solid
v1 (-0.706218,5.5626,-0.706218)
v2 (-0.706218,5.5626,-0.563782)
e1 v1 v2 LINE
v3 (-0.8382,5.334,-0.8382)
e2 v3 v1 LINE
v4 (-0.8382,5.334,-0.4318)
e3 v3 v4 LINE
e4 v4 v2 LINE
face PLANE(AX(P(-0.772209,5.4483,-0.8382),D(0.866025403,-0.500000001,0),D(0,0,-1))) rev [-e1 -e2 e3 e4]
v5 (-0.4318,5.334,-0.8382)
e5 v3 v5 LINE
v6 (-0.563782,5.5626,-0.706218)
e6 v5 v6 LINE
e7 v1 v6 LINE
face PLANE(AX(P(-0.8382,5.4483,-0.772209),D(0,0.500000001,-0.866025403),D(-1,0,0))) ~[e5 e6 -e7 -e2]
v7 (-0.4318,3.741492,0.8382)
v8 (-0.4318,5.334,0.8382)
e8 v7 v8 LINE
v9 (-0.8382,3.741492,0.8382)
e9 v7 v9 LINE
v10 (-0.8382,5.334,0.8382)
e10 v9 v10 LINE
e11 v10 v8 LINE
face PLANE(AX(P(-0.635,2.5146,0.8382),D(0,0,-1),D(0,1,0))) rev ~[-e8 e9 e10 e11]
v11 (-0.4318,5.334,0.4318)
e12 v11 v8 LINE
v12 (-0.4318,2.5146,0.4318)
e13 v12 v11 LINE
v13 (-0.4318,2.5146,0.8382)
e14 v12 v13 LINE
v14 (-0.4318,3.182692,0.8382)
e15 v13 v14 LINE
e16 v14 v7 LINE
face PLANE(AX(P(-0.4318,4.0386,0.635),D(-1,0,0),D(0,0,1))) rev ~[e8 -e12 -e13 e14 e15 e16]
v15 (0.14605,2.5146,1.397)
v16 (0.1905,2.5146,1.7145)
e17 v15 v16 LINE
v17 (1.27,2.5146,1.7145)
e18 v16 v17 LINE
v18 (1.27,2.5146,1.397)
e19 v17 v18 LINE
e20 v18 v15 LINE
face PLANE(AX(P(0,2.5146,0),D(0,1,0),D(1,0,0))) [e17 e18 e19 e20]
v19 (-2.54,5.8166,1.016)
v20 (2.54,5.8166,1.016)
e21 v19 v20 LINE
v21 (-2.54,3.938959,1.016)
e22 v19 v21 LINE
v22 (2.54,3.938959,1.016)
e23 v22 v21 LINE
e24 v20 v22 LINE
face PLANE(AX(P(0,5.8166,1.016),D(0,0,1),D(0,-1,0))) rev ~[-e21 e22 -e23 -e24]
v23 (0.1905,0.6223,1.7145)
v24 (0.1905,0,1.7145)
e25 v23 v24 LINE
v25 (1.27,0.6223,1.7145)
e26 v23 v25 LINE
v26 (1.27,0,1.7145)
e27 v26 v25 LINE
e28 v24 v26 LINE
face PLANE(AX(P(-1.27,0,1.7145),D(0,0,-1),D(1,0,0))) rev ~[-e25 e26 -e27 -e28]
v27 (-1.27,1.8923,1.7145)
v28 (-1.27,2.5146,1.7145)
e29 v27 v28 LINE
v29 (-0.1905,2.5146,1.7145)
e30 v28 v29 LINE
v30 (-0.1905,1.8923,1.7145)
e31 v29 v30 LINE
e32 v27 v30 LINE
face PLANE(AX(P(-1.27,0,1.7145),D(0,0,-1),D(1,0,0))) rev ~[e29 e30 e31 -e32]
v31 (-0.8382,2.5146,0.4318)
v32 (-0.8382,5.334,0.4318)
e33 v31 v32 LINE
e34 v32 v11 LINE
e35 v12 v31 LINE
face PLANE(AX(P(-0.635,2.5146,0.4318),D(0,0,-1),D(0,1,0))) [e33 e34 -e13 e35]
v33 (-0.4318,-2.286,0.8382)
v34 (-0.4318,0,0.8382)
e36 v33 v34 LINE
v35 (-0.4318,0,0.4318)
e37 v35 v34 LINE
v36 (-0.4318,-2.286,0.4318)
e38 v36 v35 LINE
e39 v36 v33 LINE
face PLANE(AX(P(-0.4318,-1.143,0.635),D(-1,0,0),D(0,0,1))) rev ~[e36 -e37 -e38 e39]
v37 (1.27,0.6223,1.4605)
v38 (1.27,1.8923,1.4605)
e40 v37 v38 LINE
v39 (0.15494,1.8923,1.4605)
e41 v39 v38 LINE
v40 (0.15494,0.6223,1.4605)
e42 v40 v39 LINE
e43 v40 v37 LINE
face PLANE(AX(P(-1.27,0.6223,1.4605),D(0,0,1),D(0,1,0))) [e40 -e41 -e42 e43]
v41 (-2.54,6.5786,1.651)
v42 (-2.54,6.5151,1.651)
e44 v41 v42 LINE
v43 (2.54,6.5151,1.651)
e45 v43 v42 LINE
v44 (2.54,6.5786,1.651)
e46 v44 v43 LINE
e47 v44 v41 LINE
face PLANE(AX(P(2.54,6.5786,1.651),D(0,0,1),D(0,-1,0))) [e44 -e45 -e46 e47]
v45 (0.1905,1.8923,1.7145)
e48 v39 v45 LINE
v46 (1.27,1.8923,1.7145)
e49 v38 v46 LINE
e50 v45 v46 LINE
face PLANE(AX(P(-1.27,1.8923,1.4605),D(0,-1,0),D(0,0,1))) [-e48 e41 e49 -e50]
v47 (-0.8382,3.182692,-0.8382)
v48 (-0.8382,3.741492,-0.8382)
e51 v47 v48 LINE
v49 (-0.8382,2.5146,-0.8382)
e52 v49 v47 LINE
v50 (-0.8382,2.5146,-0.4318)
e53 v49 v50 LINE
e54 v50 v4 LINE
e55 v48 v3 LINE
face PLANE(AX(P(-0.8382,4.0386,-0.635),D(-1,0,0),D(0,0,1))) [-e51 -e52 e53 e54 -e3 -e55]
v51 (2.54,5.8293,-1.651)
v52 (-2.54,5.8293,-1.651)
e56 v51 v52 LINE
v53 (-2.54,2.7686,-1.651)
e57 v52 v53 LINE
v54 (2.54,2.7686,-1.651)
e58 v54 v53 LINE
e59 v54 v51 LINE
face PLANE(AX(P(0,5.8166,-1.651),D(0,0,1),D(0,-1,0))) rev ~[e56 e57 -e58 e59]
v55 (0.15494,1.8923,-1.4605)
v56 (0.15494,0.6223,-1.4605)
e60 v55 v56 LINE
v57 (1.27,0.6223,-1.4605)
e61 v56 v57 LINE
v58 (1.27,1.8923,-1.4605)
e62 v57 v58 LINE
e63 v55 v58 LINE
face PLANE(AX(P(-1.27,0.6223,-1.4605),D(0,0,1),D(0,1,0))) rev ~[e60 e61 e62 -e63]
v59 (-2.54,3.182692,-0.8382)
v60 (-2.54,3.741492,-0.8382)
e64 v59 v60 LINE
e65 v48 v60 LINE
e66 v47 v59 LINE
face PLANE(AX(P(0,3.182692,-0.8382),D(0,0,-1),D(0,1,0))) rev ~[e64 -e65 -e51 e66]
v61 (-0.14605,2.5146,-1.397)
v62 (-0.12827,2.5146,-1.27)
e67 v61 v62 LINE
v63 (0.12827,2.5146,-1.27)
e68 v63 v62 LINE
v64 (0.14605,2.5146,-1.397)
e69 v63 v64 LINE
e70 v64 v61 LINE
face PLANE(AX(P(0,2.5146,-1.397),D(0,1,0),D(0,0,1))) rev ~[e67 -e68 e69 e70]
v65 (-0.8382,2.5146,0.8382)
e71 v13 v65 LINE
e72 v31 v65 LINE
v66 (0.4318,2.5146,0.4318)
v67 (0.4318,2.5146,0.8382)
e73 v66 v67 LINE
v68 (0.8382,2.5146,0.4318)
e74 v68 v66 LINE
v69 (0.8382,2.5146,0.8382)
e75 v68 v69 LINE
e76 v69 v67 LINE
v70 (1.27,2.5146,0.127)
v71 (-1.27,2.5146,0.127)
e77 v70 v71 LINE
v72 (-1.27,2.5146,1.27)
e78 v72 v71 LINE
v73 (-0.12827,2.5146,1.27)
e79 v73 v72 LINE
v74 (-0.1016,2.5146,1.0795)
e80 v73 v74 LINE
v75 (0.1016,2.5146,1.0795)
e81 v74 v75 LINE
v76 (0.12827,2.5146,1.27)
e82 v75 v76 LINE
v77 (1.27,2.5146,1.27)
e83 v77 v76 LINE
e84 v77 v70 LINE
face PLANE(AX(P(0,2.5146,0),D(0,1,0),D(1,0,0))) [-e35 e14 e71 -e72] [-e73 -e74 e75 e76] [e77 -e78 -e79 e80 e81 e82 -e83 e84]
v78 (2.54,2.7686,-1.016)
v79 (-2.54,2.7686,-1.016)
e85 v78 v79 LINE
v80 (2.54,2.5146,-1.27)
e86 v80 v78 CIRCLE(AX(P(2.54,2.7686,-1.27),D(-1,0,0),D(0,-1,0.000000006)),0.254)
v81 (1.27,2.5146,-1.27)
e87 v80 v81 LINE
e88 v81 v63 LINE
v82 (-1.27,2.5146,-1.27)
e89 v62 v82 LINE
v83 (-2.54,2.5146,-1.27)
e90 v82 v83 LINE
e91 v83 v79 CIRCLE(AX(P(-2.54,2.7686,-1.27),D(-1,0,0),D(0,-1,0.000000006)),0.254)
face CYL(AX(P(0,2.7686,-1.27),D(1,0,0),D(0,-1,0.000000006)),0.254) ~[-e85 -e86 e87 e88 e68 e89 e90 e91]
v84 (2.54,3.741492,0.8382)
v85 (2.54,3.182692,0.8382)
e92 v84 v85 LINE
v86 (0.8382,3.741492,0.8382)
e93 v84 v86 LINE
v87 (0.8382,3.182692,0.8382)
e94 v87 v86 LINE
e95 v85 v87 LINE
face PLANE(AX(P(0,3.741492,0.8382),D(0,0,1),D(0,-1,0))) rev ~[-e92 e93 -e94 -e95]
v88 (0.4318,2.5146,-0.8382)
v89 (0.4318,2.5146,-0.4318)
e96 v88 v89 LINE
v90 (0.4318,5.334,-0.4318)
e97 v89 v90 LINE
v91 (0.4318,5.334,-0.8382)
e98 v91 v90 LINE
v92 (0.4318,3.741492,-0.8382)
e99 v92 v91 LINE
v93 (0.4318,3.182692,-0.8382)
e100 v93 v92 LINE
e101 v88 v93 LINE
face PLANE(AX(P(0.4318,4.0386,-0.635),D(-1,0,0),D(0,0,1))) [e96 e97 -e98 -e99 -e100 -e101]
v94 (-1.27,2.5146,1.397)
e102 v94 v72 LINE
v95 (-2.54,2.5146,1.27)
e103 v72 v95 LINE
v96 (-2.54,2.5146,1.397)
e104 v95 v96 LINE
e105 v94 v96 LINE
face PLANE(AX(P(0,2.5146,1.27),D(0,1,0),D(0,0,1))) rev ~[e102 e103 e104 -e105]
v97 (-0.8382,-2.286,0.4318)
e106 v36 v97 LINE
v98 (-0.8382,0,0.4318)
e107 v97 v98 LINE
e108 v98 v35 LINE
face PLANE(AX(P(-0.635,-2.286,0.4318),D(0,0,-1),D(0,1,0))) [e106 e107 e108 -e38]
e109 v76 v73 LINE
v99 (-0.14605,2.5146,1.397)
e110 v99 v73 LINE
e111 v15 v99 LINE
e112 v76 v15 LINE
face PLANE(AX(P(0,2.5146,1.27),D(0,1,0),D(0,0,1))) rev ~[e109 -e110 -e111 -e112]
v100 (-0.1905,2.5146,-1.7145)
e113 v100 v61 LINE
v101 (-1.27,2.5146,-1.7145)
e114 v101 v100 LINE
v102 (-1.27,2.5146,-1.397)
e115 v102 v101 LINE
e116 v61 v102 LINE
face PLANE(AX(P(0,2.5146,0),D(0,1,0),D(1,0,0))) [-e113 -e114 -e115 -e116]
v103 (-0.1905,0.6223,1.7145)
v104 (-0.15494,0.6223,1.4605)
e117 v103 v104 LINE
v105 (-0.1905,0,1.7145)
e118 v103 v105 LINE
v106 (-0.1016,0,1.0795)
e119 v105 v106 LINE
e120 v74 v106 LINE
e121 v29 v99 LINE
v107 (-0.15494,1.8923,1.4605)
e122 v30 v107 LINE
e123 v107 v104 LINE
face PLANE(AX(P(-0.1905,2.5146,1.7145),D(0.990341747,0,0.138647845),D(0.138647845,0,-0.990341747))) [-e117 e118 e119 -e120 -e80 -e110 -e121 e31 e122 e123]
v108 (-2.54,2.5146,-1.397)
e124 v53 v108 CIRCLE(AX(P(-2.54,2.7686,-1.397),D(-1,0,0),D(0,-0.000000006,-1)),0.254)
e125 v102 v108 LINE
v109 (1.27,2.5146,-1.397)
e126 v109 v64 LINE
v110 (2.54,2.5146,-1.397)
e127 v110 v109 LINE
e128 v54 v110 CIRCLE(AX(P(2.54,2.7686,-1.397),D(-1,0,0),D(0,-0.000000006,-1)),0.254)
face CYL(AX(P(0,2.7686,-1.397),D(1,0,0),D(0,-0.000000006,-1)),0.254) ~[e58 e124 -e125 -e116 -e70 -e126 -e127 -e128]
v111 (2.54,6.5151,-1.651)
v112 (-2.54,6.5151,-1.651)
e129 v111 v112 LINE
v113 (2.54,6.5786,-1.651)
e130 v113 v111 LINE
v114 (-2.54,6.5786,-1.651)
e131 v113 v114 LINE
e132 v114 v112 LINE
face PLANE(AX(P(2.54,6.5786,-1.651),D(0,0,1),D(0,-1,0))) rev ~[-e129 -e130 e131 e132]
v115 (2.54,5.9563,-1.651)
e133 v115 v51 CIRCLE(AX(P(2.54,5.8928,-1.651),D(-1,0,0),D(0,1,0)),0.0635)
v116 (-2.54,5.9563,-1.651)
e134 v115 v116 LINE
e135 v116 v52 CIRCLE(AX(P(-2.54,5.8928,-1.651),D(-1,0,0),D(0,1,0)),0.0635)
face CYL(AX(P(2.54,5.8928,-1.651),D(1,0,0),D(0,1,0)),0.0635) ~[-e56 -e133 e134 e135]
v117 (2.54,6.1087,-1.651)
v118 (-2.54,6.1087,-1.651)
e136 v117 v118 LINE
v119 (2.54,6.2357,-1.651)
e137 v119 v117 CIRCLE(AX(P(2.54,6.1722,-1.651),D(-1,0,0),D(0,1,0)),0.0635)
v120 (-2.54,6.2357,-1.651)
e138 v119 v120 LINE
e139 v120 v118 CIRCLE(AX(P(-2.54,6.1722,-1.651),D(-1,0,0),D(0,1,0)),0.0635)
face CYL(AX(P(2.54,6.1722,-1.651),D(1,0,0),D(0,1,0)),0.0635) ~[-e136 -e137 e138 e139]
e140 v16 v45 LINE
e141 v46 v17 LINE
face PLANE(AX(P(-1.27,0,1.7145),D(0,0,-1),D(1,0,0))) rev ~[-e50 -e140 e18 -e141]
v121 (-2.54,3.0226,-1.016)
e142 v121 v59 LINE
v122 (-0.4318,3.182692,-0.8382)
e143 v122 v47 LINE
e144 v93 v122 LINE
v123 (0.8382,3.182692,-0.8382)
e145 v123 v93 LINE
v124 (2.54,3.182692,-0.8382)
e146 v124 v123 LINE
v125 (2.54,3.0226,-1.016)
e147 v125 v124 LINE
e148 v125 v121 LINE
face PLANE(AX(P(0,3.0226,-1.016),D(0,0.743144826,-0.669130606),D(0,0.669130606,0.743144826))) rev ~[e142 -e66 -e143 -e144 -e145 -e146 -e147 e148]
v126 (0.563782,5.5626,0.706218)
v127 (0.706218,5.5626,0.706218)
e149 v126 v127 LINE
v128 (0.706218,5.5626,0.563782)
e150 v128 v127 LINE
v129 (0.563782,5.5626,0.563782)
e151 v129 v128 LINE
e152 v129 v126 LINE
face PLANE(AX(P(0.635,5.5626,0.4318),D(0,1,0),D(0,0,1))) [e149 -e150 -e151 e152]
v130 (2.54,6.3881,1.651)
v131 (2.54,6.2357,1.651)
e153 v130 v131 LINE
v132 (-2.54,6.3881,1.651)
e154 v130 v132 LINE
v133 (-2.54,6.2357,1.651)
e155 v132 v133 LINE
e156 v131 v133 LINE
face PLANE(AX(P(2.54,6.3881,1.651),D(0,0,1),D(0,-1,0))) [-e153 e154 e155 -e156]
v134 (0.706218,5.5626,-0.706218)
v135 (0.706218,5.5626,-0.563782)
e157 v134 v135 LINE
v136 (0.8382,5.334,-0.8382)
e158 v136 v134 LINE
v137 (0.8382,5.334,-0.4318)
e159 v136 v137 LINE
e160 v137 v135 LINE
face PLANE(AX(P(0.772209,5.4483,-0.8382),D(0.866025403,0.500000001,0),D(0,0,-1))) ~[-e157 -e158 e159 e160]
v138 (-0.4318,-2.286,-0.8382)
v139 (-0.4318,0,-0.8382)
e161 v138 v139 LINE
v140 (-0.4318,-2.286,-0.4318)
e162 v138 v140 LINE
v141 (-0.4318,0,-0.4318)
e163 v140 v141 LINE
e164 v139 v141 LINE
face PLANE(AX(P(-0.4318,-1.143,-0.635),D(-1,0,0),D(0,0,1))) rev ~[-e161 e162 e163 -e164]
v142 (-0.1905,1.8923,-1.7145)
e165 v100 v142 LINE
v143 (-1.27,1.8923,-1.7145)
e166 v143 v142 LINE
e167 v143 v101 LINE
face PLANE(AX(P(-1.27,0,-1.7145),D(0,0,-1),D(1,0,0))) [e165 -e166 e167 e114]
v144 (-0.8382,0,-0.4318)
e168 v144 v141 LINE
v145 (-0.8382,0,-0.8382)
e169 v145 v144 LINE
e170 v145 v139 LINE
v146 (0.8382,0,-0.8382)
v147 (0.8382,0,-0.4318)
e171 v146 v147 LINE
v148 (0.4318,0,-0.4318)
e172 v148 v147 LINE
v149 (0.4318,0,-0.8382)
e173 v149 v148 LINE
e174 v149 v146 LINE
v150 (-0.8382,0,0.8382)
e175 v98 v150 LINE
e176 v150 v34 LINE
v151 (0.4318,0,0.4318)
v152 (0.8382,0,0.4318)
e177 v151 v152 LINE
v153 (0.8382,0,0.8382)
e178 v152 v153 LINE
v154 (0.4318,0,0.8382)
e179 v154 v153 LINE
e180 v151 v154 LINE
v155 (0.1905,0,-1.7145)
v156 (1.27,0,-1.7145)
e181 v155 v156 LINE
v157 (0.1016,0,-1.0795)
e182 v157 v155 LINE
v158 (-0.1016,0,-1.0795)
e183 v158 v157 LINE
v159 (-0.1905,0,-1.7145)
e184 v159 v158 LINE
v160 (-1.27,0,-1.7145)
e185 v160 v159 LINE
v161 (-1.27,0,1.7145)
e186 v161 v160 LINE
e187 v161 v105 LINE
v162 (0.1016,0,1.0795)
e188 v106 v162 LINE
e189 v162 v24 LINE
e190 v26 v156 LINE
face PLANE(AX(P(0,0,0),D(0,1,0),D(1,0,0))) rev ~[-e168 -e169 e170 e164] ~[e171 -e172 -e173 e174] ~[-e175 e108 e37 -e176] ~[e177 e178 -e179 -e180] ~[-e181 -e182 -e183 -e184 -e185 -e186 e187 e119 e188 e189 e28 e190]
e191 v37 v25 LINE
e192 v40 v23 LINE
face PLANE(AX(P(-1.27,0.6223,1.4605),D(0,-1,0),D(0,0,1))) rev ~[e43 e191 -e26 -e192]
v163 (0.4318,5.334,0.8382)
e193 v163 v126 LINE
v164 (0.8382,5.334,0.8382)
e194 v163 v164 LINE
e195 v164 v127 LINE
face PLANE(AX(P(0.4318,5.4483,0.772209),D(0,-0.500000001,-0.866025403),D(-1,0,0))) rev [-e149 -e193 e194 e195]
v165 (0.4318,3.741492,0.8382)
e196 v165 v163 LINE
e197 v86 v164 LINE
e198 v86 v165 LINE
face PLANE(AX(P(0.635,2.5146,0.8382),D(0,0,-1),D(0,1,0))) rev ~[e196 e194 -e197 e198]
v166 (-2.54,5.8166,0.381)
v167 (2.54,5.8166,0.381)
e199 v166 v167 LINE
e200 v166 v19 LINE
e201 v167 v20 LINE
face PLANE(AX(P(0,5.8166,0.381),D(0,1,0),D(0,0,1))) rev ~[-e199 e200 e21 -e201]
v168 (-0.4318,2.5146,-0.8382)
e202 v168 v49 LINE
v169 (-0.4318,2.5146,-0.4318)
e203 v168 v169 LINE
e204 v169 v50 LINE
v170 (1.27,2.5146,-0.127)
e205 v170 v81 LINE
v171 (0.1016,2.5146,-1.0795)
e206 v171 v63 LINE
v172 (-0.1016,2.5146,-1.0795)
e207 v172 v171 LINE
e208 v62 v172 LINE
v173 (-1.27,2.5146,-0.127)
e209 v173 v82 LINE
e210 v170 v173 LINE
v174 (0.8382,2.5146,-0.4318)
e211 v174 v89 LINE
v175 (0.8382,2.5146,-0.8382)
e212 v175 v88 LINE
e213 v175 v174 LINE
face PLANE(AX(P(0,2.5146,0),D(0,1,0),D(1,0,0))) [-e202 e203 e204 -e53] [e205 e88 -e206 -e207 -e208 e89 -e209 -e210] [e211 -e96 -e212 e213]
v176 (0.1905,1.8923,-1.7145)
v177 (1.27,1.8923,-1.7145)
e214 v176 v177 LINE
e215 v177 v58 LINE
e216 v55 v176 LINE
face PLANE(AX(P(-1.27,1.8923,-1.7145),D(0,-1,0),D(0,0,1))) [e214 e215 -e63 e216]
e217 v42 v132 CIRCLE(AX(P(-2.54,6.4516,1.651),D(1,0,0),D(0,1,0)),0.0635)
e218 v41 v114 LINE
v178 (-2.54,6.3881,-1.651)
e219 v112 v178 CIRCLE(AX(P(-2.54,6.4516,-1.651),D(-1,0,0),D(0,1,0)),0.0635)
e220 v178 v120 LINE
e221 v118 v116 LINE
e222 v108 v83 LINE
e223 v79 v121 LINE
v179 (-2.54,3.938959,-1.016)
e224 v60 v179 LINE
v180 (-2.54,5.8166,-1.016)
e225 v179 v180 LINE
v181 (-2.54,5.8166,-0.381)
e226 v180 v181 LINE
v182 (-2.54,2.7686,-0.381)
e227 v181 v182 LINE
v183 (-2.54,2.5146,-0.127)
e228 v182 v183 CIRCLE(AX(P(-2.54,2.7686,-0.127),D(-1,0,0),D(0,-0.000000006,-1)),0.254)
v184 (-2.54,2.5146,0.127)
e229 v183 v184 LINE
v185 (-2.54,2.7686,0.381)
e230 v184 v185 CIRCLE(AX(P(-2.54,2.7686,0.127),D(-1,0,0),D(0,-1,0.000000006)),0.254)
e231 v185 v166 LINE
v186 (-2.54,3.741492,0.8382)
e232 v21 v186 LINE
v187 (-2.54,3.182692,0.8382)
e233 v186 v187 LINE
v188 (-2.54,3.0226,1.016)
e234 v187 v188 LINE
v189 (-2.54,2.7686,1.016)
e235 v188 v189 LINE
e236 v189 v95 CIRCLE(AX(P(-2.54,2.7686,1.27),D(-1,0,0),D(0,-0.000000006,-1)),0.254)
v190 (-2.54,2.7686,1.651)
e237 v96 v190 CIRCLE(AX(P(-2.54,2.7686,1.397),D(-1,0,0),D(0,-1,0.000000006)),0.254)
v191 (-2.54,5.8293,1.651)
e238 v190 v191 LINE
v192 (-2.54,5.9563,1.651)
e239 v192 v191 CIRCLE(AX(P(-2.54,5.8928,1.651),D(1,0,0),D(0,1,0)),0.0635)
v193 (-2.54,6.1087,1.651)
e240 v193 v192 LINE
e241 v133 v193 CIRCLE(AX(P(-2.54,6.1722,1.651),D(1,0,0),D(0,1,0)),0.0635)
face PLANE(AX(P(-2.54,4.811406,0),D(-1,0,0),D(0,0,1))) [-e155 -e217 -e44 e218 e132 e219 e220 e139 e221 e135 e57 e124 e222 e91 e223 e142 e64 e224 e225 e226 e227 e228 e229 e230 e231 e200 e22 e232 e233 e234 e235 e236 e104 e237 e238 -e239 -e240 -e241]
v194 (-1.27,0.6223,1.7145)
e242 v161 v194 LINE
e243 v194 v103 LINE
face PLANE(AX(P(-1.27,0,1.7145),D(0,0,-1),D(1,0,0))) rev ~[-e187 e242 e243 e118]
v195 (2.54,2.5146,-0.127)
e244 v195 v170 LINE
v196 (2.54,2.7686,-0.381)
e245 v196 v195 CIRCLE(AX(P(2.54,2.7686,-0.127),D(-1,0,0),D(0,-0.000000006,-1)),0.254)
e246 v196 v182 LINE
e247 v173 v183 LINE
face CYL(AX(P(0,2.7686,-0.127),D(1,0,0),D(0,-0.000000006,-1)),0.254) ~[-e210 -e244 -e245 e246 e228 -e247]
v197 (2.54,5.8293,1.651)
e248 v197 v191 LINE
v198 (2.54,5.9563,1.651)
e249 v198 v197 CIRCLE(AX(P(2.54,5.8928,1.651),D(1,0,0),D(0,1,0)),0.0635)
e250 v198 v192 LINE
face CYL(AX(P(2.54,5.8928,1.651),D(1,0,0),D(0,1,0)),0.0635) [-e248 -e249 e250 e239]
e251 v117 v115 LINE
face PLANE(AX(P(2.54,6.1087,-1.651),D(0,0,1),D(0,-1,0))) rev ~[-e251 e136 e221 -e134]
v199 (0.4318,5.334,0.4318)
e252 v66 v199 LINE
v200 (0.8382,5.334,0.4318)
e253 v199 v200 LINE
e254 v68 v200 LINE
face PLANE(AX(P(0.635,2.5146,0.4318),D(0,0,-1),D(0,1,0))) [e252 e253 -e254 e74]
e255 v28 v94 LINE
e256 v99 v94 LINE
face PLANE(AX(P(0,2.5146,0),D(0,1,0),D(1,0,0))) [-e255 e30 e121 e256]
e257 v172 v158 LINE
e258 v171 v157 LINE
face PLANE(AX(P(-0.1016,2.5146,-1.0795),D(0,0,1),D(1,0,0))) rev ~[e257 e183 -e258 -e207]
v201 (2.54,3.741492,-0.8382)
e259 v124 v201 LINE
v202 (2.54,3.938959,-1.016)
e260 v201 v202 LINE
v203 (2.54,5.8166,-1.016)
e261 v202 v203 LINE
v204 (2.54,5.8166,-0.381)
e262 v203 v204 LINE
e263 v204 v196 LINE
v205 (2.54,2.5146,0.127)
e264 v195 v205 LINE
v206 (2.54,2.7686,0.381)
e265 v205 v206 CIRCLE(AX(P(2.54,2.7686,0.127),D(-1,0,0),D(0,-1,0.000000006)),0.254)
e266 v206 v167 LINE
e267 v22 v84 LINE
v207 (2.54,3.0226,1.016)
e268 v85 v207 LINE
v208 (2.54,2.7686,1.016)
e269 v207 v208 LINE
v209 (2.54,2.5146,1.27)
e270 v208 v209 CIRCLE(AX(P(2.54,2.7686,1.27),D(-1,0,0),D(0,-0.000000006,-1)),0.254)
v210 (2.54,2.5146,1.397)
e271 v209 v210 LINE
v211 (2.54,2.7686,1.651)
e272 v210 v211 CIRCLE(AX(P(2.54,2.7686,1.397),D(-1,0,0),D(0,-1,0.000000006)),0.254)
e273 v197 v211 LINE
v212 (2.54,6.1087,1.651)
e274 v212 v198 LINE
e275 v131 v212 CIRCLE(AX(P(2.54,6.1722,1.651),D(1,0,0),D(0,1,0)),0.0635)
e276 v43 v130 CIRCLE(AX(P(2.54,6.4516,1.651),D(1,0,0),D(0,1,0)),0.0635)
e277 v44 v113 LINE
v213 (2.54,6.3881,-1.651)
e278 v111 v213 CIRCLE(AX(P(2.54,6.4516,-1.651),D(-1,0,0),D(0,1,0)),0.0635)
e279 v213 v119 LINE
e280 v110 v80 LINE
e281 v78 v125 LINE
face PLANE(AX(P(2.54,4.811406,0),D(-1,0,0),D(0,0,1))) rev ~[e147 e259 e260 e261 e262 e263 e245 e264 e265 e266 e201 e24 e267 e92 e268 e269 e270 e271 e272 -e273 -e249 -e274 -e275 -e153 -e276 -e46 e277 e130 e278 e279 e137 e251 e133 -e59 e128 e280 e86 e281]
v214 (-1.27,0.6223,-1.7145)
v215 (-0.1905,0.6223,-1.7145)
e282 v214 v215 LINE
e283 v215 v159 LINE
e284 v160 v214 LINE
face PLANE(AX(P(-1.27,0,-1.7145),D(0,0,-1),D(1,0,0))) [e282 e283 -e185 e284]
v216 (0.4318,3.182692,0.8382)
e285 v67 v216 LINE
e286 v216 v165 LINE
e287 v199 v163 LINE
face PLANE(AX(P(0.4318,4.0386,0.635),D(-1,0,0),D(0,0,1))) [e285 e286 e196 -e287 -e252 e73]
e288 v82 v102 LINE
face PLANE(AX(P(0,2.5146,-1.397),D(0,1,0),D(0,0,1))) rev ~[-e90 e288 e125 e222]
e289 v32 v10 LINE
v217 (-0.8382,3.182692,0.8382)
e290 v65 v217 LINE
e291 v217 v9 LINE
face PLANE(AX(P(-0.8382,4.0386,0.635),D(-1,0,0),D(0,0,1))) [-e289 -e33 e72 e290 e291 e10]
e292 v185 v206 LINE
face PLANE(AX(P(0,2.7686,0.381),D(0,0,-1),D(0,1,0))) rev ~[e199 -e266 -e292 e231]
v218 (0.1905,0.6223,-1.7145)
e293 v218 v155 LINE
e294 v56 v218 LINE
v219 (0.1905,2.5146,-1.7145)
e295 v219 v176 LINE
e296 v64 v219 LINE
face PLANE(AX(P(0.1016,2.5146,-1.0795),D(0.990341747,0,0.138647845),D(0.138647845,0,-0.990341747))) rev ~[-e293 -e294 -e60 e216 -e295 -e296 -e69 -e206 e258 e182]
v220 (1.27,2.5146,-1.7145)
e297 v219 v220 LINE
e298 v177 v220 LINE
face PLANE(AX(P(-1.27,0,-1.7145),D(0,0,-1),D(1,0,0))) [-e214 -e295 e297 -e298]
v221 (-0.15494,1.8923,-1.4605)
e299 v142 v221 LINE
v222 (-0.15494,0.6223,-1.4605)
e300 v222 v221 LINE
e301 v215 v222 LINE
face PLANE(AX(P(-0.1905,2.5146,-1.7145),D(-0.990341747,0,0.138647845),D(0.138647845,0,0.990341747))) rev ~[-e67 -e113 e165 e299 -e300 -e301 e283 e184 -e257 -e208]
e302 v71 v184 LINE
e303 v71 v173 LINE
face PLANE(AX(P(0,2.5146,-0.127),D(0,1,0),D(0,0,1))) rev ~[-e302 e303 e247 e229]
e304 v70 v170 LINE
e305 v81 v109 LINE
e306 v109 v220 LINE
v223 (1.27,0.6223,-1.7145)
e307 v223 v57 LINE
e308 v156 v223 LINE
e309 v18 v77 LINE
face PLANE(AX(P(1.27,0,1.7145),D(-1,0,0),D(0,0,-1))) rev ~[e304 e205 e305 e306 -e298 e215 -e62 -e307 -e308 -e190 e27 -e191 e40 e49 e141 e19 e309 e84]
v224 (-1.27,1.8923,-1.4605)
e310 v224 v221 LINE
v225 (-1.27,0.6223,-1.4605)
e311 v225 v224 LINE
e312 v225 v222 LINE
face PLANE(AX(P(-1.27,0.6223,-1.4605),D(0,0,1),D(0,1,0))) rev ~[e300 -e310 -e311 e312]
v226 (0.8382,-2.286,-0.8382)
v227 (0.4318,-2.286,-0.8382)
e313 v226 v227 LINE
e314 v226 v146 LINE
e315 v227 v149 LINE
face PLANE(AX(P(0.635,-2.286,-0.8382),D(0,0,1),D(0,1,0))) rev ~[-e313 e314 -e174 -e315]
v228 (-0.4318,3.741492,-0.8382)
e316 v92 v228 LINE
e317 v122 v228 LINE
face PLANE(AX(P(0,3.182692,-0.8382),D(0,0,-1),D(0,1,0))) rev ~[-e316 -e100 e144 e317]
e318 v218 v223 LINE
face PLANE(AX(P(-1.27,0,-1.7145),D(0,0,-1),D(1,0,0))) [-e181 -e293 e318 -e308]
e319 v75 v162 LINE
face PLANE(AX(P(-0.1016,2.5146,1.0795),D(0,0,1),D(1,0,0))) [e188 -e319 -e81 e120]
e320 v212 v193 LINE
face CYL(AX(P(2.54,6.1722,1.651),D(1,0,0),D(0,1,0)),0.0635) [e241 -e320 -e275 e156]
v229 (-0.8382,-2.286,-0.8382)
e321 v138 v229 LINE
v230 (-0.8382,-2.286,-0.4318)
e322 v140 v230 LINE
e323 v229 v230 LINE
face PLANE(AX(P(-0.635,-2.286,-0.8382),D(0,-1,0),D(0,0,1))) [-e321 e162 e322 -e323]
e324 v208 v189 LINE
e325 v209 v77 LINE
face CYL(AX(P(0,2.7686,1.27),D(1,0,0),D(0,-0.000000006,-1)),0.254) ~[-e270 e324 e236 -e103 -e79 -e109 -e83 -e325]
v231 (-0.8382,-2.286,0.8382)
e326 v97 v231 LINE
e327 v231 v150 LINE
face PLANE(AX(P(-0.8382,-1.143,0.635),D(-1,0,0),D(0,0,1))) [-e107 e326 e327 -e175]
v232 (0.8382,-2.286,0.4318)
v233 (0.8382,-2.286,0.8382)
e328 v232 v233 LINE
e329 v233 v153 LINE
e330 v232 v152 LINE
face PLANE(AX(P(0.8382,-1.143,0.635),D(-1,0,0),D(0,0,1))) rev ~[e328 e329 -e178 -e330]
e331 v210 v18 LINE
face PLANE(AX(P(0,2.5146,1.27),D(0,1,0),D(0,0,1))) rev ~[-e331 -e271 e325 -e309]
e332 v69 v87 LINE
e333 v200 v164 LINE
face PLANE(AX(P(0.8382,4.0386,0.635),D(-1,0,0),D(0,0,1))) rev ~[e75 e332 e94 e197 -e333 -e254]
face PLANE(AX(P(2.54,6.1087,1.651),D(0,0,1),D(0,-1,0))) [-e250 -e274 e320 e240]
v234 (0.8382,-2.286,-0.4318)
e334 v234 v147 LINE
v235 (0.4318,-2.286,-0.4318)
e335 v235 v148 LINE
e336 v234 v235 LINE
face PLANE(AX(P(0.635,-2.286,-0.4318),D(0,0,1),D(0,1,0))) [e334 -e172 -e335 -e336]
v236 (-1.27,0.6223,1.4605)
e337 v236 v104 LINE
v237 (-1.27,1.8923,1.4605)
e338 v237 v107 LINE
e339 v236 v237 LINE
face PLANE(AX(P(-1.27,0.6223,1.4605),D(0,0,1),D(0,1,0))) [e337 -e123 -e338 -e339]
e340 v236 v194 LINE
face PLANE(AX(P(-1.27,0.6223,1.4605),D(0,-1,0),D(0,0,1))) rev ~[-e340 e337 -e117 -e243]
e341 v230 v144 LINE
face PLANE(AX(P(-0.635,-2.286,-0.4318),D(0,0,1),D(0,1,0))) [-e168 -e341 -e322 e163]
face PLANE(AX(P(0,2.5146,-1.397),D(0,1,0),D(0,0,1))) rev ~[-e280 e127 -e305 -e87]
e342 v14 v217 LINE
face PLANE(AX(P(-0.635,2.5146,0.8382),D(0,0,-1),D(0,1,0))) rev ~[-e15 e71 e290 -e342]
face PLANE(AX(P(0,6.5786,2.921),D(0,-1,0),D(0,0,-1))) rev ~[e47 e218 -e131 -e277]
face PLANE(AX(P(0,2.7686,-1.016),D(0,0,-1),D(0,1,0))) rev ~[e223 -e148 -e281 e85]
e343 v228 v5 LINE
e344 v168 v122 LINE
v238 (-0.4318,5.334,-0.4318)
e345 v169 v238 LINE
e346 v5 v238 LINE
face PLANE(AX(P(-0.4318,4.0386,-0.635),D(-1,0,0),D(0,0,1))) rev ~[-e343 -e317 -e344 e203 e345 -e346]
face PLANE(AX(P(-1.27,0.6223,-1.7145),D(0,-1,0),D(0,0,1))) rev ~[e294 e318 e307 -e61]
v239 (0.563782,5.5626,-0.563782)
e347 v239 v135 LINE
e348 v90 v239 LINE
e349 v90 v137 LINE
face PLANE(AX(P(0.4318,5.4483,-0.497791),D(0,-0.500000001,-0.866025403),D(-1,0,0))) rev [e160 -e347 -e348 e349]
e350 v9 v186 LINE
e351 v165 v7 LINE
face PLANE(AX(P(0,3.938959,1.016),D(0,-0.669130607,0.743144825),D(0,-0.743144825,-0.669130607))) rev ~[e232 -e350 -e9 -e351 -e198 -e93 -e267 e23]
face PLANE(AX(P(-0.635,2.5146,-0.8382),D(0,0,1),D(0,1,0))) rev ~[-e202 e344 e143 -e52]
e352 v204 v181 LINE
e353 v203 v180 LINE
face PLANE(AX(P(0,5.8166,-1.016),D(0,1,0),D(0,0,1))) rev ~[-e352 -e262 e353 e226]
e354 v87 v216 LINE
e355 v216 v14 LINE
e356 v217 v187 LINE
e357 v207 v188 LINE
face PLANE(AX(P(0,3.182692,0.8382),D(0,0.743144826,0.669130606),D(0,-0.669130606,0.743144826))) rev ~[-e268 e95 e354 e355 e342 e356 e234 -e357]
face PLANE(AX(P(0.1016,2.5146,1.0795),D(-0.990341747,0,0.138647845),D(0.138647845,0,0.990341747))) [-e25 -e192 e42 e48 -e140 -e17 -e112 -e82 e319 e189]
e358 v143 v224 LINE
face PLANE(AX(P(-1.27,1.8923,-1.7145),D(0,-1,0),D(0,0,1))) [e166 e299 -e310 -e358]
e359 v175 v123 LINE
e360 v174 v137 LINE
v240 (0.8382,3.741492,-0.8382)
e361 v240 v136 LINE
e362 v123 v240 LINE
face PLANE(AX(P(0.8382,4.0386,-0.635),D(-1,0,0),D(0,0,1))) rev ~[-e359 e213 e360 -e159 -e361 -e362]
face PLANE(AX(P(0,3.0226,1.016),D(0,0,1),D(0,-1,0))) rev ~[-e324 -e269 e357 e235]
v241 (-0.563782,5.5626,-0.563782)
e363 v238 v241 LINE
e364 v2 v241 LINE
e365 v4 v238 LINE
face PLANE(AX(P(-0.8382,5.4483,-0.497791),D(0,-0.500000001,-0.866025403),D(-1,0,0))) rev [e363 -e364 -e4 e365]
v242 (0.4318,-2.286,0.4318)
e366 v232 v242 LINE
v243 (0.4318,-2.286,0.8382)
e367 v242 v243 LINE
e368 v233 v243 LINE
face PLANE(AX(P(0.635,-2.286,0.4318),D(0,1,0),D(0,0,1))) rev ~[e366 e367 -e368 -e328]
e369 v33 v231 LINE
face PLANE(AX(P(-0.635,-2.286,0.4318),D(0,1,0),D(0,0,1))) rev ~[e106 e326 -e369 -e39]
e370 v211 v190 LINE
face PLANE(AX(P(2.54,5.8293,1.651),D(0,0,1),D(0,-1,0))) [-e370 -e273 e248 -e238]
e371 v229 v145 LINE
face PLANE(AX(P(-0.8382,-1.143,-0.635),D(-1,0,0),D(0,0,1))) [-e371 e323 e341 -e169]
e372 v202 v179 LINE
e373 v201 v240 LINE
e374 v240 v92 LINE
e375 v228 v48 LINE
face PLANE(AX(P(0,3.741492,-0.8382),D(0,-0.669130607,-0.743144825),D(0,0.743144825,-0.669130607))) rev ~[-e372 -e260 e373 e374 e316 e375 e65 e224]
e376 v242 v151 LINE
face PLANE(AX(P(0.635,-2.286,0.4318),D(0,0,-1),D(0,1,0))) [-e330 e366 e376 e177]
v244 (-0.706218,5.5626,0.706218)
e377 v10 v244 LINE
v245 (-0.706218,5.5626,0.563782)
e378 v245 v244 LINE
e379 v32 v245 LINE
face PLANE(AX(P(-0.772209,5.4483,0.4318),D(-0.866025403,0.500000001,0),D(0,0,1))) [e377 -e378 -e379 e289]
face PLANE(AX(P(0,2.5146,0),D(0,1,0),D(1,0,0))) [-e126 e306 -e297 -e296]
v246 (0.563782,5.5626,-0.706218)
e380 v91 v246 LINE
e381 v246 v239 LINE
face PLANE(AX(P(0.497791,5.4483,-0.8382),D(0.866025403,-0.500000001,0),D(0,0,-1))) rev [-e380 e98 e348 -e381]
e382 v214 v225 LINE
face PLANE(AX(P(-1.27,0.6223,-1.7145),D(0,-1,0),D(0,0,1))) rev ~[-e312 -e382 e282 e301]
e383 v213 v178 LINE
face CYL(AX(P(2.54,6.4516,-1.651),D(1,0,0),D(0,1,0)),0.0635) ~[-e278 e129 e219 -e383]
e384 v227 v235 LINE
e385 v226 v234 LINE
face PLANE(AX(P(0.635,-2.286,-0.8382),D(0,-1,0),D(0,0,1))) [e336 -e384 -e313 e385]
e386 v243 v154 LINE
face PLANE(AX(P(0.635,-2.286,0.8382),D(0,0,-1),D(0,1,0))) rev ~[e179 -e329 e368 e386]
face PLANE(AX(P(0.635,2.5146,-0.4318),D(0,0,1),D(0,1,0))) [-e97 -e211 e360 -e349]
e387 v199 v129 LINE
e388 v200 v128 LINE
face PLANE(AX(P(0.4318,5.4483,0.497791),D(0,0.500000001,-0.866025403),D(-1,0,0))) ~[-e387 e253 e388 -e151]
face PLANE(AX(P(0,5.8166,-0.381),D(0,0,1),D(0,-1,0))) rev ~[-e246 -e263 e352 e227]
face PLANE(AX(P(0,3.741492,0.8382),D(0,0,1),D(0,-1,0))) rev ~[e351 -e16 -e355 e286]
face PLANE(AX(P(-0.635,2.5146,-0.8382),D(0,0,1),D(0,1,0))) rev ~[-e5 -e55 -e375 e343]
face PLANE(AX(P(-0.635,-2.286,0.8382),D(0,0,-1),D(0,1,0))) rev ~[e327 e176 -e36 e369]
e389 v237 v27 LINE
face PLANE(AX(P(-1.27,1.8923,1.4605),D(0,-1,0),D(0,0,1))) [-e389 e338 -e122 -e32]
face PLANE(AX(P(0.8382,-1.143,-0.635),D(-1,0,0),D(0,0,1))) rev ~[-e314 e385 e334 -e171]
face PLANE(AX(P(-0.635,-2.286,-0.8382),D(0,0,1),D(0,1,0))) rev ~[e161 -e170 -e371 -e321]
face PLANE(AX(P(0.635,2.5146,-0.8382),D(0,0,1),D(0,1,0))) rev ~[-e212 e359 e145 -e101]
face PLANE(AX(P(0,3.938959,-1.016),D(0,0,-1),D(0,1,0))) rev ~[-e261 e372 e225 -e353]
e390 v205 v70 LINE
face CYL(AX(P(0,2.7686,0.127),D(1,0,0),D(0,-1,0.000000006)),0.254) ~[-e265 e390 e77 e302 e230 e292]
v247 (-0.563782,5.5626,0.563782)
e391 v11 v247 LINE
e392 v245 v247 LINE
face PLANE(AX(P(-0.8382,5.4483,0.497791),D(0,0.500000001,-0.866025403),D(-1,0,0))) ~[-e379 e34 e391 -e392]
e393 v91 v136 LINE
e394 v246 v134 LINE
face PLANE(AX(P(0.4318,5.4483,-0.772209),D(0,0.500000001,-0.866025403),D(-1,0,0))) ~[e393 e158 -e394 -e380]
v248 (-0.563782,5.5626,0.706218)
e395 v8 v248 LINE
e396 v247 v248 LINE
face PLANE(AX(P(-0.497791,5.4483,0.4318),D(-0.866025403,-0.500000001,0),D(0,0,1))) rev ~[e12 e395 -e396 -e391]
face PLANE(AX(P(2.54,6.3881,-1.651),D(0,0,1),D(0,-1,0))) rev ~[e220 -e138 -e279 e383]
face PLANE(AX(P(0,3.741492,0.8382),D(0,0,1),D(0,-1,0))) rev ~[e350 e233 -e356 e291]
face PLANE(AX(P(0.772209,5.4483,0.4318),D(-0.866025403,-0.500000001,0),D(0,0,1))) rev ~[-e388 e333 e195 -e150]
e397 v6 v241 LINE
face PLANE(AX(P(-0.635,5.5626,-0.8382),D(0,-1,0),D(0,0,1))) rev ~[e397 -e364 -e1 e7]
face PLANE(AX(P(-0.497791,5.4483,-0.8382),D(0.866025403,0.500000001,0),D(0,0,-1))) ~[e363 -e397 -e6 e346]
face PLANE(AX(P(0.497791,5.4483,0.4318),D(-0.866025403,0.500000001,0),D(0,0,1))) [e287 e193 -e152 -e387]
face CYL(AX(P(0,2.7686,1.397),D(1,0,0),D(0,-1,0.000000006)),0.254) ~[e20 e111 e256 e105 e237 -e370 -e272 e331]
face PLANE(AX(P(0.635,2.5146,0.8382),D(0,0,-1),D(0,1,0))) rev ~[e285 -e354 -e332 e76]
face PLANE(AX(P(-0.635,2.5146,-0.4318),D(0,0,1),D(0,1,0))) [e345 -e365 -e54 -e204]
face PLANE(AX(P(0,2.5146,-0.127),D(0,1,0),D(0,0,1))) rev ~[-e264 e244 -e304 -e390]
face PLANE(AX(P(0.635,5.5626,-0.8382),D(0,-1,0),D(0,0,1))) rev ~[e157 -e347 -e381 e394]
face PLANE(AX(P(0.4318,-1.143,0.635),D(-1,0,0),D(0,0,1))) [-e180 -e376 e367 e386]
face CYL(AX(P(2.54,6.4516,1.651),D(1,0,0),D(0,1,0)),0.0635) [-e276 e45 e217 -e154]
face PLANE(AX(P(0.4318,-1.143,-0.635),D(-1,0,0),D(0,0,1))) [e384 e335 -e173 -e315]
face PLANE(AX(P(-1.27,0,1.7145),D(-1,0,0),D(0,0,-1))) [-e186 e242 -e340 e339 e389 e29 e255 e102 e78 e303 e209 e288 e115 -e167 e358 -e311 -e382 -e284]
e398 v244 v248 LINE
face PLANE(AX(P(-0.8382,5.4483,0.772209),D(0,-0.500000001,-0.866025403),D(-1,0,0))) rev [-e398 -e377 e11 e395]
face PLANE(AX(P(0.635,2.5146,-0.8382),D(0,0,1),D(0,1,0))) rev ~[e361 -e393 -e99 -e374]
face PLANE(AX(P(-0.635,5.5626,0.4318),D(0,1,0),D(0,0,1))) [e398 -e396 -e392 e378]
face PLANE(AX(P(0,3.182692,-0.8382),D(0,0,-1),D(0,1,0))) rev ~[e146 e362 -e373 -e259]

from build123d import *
from OCP.BRepFilletAPI import BRepFilletAPI_MakeChamfer

# Parameters (mm, degrees)
SKETCH1_W                      = 2.54
SKETCH1_H                      = 3.429
BASE_DEPTH                     = 2.5146
SNAP_GROOVE_DEPTH              = 4.297821009
SKETCH3_W                      = 0.254
SKETCH3_H                      = 1.27
SIDE_GROOVE_DEPTH              = 4.96412959
SKETCH4_W                      = 0.4064
SKETCH4_H                      = 3.048
PIN_POST_DEPTH                 = 0.2032
POST_TIP_SIZE                  = 0.2286
POST_TIP_SIZE2                 = 0.131982272
POST_PATTERN_COUNT             = 2
POST_PATTERN_PITCH             = 1.27
POST_TIP_OF_POST_PATTERN_SIZE  = 0.2286
POST_TIP_OF_POST_PATTERN_SIZE2 = 0.131982272
SKETCH5_W                      = 0.4064
SKETCH5_H                      = 2.286
TH_TAIL_DEPTH                  = 0.2032
TH_TAIL_PATTERN_COUNT          = 2
TH_TAIL_PATTERN_PITCH          = 1.27
EXTRUDE_P_DEPTH                = 2.54
PPP_25_CUT_DEPTH               = 5.08


with BuildPart() as part:
    # Sketch1 → Base (new body)
    with BuildSketch(Plane(origin=(0, 0, 0), x_dir=(1, 0, 0), z_dir=(0, 1, 0))):
        Rectangle(SKETCH1_W, SKETCH1_H)
    extrude(amount=BASE_DEPTH)

    # Sketch2 → Snap Groove (cut, through all)
    with BuildSketch(Plane(origin=(0, 2.5146, 0), x_dir=(-1, 0, 0), z_dir=(0, 1, 0))):
        Polygon((0.1905, 1.7145), (0.1016, 1.0795), (-0.1016, 1.0795), (-0.1905, 1.7145), align=None)
        Polygon((-0.1905, -1.7145), (0.1905, -1.7145), (0.1016, -1.0795), (-0.1016, -1.0795), align=None)
    extrude(amount=-SNAP_GROOVE_DEPTH, mode=Mode.SUBTRACT)

    # Sketch3 → Side Groove (cut, through all)
    with BuildSketch(Plane.ZY.offset(1.27)):
        with Locations((-1.5875, 1.2573)):
            Rectangle(SKETCH3_W, SKETCH3_H)
        with Locations((1.5875, 1.2573)):
            Rectangle(SKETCH3_W, SKETCH3_H)
    extrude(amount=-SIDE_GROOVE_DEPTH, mode=Mode.SUBTRACT)

    # Sketch4 → Pin Post (add, symmetric)
    with BuildSketch(Plane.ZY.offset(0.635)):
        with Locations((0.635, 4.0386)):
            Rectangle(SKETCH4_W, SKETCH4_H)
        with Locations((-0.635, 4.0386)):
            Rectangle(SKETCH4_W, SKETCH4_H)
    pin_post = extrude(amount=PIN_POST_DEPTH, both=True)

    # Post Tip: one chamfer whose edges measure the first distance from different faces: ONE call of the kernel's chamfer builder (chamfer() names one face for all edges)
    post_tip_edges_1 = [part.edges().sort_by_distance(p)[0] for p in [
        (-0.4318, 5.5626, 0.635),
    ]]
    post_tip_side_1 = [part.faces().sort_by_distance(p)[0] for p in [
        (-0.4318, 4.0386, 0.635),
    ]]
    post_tip_edges_2 = [part.edges().sort_by_distance(p)[0] for p in [
        (-0.635, 5.5626, 0.8382),
    ]]
    post_tip_side_2 = [part.faces().sort_by_distance(p)[0] for p in [
        (-0.635, 4.0386, 0.8382),
    ]]
    post_tip_edges_3 = [part.edges().sort_by_distance(p)[0] for p in [
        (-0.635, 5.5626, 0.4318),
    ]]
    post_tip_side_3 = [part.faces().sort_by_distance(p)[0] for p in [
        (-0.635, 4.0386, 0.4318),
    ]]
    post_tip_edges_4 = [part.edges().sort_by_distance(p)[0] for p in [
        (-0.8382, 5.5626, 0.635),
    ]]
    post_tip_side_4 = [part.faces().sort_by_distance(p)[0] for p in [
        (-0.8382, 4.0386, 0.635),
    ]]
    post_tip_edges_5 = [part.edges().sort_by_distance(p)[0] for p in [
        (-0.4318, 5.5626, -0.635),
    ]]
    post_tip_side_5 = [part.faces().sort_by_distance(p)[0] for p in [
        (-0.4318, 4.0386, -0.635),
    ]]
    post_tip_edges_6 = [part.edges().sort_by_distance(p)[0] for p in [
        (-0.635, 5.5626, -0.4318),
    ]]
    post_tip_side_6 = [part.faces().sort_by_distance(p)[0] for p in [
        (-0.635, 4.0386, -0.4318),
    ]]
    post_tip_edges_7 = [part.edges().sort_by_distance(p)[0] for p in [
        (-0.635, 5.5626, -0.8382),
    ]]
    post_tip_side_7 = [part.faces().sort_by_distance(p)[0] for p in [
        (-0.635, 4.0386, -0.8382),
    ]]
    post_tip_edges_8 = [part.edges().sort_by_distance(p)[0] for p in [
        (-0.8382, 5.5626, -0.635),
    ]]
    post_tip_side_8 = [part.faces().sort_by_distance(p)[0] for p in [
        (-0.8382, 4.0386, -0.635),
    ]]
    post_tip = BRepFilletAPI_MakeChamfer(part.part.solid().wrapped)
    for e in post_tip_edges_1:
        post_tip.Add(POST_TIP_SIZE, POST_TIP_SIZE2, e.wrapped, post_tip_side_1[0].wrapped)  # the first distance lies on this face
    for e in post_tip_edges_2:
        post_tip.Add(POST_TIP_SIZE, POST_TIP_SIZE2, e.wrapped, post_tip_side_2[0].wrapped)  # the first distance lies on this face
    for e in post_tip_edges_3:
        post_tip.Add(POST_TIP_SIZE, POST_TIP_SIZE2, e.wrapped, post_tip_side_3[0].wrapped)  # the first distance lies on this face
    for e in post_tip_edges_4:
        post_tip.Add(POST_TIP_SIZE, POST_TIP_SIZE2, e.wrapped, post_tip_side_4[0].wrapped)  # the first distance lies on this face
    for e in post_tip_edges_5:
        post_tip.Add(POST_TIP_SIZE, POST_TIP_SIZE2, e.wrapped, post_tip_side_5[0].wrapped)  # the first distance lies on this face
    for e in post_tip_edges_6:
        post_tip.Add(POST_TIP_SIZE, POST_TIP_SIZE2, e.wrapped, post_tip_side_6[0].wrapped)  # the first distance lies on this face
    for e in post_tip_edges_7:
        post_tip.Add(POST_TIP_SIZE, POST_TIP_SIZE2, e.wrapped, post_tip_side_7[0].wrapped)  # the first distance lies on this face
    for e in post_tip_edges_8:
        post_tip.Add(POST_TIP_SIZE, POST_TIP_SIZE2, e.wrapped, post_tip_side_8[0].wrapped)  # the first distance lies on this face
    add(Compound.cast(post_tip.Shape()), mode=Mode.REPLACE)

    # Post Pattern: Pin Post ×2
    with Locations(*[(i * POST_PATTERN_PITCH, 0, 0) for i in range(1, POST_PATTERN_COUNT)]):
        add(pin_post)

    # Post Tip of Post Pattern: one chamfer whose edges measure the first distance from different faces: ONE call of the kernel's chamfer builder (chamfer() names one face for all edges)
    post_tip_of_post_pattern_edges_1 = [part.edges().sort_by_distance(p)[0] for p in [
        (0.8382, 5.5626, 0.635),
    ]]
    post_tip_of_post_pattern_side_1 = [part.faces().sort_by_distance(p)[0] for p in [
        (0.8382, 4.0386, 0.635),
    ]]
    post_tip_of_post_pattern_edges_2 = [part.edges().sort_by_distance(p)[0] for p in [
        (0.635, 5.5626, 0.8382),
    ]]
    post_tip_of_post_pattern_side_2 = [part.faces().sort_by_distance(p)[0] for p in [
        (0.635, 4.0386, 0.8382),
    ]]
    post_tip_of_post_pattern_edges_3 = [part.edges().sort_by_distance(p)[0] for p in [
        (0.635, 5.5626, 0.4318),
    ]]
    post_tip_of_post_pattern_side_3 = [part.faces().sort_by_distance(p)[0] for p in [
        (0.635, 4.0386, 0.4318),
    ]]
    post_tip_of_post_pattern_edges_4 = [part.edges().sort_by_distance(p)[0] for p in [
        (0.4318, 5.5626, 0.635),
    ]]
    post_tip_of_post_pattern_side_4 = [part.faces().sort_by_distance(p)[0] for p in [
        (0.4318, 4.0386, 0.635),
    ]]
    post_tip_of_post_pattern_edges_5 = [part.edges().sort_by_distance(p)[0] for p in [
        (0.8382, 5.5626, -0.635),
    ]]
    post_tip_of_post_pattern_side_5 = [part.faces().sort_by_distance(p)[0] for p in [
        (0.8382, 4.0386, -0.635),
    ]]
    post_tip_of_post_pattern_edges_6 = [part.edges().sort_by_distance(p)[0] for p in [
        (0.635, 5.5626, -0.4318),
    ]]
    post_tip_of_post_pattern_side_6 = [part.faces().sort_by_distance(p)[0] for p in [
        (0.635, 4.0386, -0.4318),
    ]]
    post_tip_of_post_pattern_edges_7 = [part.edges().sort_by_distance(p)[0] for p in [
        (0.635, 5.5626, -0.8382),
    ]]
    post_tip_of_post_pattern_side_7 = [part.faces().sort_by_distance(p)[0] for p in [
        (0.635, 4.0386, -0.8382),
    ]]
    post_tip_of_post_pattern_edges_8 = [part.edges().sort_by_distance(p)[0] for p in [
        (0.4318, 5.5626, -0.635),
    ]]
    post_tip_of_post_pattern_side_8 = [part.faces().sort_by_distance(p)[0] for p in [
        (0.4318, 4.0386, -0.635),
    ]]
    post_tip_of_post_pattern = BRepFilletAPI_MakeChamfer(part.part.solid().wrapped)
    for e in post_tip_of_post_pattern_edges_1:
        post_tip_of_post_pattern.Add(POST_TIP_OF_POST_PATTERN_SIZE, POST_TIP_OF_POST_PATTERN_SIZE2, e.wrapped, post_tip_of_post_pattern_side_1[0].wrapped)  # the first distance lies on this face
    for e in post_tip_of_post_pattern_edges_2:
        post_tip_of_post_pattern.Add(POST_TIP_OF_POST_PATTERN_SIZE, POST_TIP_OF_POST_PATTERN_SIZE2, e.wrapped, post_tip_of_post_pattern_side_2[0].wrapped)  # the first distance lies on this face
    for e in post_tip_of_post_pattern_edges_3:
        post_tip_of_post_pattern.Add(POST_TIP_OF_POST_PATTERN_SIZE, POST_TIP_OF_POST_PATTERN_SIZE2, e.wrapped, post_tip_of_post_pattern_side_3[0].wrapped)  # the first distance lies on this face
    for e in post_tip_of_post_pattern_edges_4:
        post_tip_of_post_pattern.Add(POST_TIP_OF_POST_PATTERN_SIZE, POST_TIP_OF_POST_PATTERN_SIZE2, e.wrapped, post_tip_of_post_pattern_side_4[0].wrapped)  # the first distance lies on this face
    for e in post_tip_of_post_pattern_edges_5:
        post_tip_of_post_pattern.Add(POST_TIP_OF_POST_PATTERN_SIZE, POST_TIP_OF_POST_PATTERN_SIZE2, e.wrapped, post_tip_of_post_pattern_side_5[0].wrapped)  # the first distance lies on this face
    for e in post_tip_of_post_pattern_edges_6:
        post_tip_of_post_pattern.Add(POST_TIP_OF_POST_PATTERN_SIZE, POST_TIP_OF_POST_PATTERN_SIZE2, e.wrapped, post_tip_of_post_pattern_side_6[0].wrapped)  # the first distance lies on this face
    for e in post_tip_of_post_pattern_edges_7:
        post_tip_of_post_pattern.Add(POST_TIP_OF_POST_PATTERN_SIZE, POST_TIP_OF_POST_PATTERN_SIZE2, e.wrapped, post_tip_of_post_pattern_side_7[0].wrapped)  # the first distance lies on this face
    for e in post_tip_of_post_pattern_edges_8:
        post_tip_of_post_pattern.Add(POST_TIP_OF_POST_PATTERN_SIZE, POST_TIP_OF_POST_PATTERN_SIZE2, e.wrapped, post_tip_of_post_pattern_side_8[0].wrapped)  # the first distance lies on this face
    add(Compound.cast(post_tip_of_post_pattern.Shape()), mode=Mode.REPLACE)

    # Sketch5 → TH Tail (add, symmetric)
    with BuildSketch(Plane.ZY.offset(0.635)):
        with Locations((0.635, -1.143)):
            Rectangle(SKETCH5_W, SKETCH5_H)
        with Locations((-0.635, -1.143)):
            Rectangle(SKETCH5_W, SKETCH5_H)
    th_tail = extrude(amount=TH_TAIL_DEPTH, both=True)

    # TH Tail Pattern: TH Tail ×2
    with Locations(*[(i * TH_TAIL_PATTERN_PITCH, 0, 0) for i in range(1, TH_TAIL_PATTERN_COUNT)]):
        add(th_tail)

    # Sketch24 → Extrude P (add, symmetric)
    with BuildSketch(Plane(origin=(0, 0, 0), x_dir=(0, 0, -1), z_dir=(1, 0, 0))):
        with BuildLine():
            Line((-1.016, 5.8166), (-1.016, 3.938958744))
            Line((-1.016, 3.938958744), (-0.8382, 3.741491839))
            Line((-0.8382, 3.741491839), (-0.8382, 3.182691839))
            Line((-0.8382, 3.182691839), (-1.016, 3.0226))
            Line((-1.016, 3.0226), (-1.016, 2.7686))
            ThreePointArc((-1.016, 2.7686), (-1.090394878, 2.588994878), (-1.27, 2.5146))
            Line((-1.27, 2.5146), (-1.397, 2.5146))
            ThreePointArc((-1.397, 2.5146), (-1.576605122, 2.588994878), (-1.651, 2.7686))
            Line((-1.651, 2.7686), (-1.651, 5.8166))
            Line((-1.651, 5.8166), (-2.921, 5.8166))
            Line((-2.921, 5.8166), (-2.921, 6.5786))
            Line((-2.921, 6.5786), (2.921, 6.5786))
            Line((2.921, 6.5786), (2.921, 5.8166))
            Line((2.921, 5.8166), (1.651, 5.8166))
            Line((1.651, 5.8166), (1.651, 2.7686))
            ThreePointArc((1.651, 2.7686), (1.576605122, 2.588994878), (1.397, 2.5146))
            Line((1.397, 2.5146), (1.27, 2.5146))
            ThreePointArc((1.27, 2.5146), (1.090394878, 2.588994878), (1.016, 2.7686))
            Line((1.016, 2.7686), (1.016, 3.0226))
            Line((1.016, 3.0226), (0.8382, 3.182691839))
            Line((0.8382, 3.182691839), (0.8382, 3.741491839))
            Line((0.8382, 3.741491839), (1.016, 3.938958744))
            Line((1.016, 3.938958744), (1.016, 5.8166))
            Line((1.016, 5.8166), (0.381, 5.8166))
            Line((0.381, 5.8166), (0.381, 2.7686))
            ThreePointArc((0.381, 2.7686), (0.306605122, 2.588994878), (0.127, 2.5146))
            Line((0.127, 2.5146), (-0.127, 2.5146))
            ThreePointArc((-0.127, 2.5146), (-0.306605122, 2.588994878), (-0.381, 2.7686))
            Line((-0.381, 2.7686), (-0.381, 5.8166))
            Line((-0.381, 5.8166), (-1.016, 5.8166))
        make_face()
    extrude(amount=EXTRUDE_P_DEPTH, both=True)

    # Sketch43 → PPP-25 cut (cut)
    with BuildSketch(Plane(origin=(2.54, 0, 0), x_dir=(0, 0, -1), z_dir=(1, 0, 0))):
        with BuildLine():
            Line((-1.651, 5.8293), (-1.651, 5.8166))
            Line((-1.651, 5.8166), (-2.921, 5.8166))
            Line((-2.921, 5.8166), (-2.921, 6.5786))
            Line((-2.921, 6.5786), (-1.651, 6.5786))
            Line((-1.651, 6.5786), (-1.651, 6.5151))
            ThreePointArc((-1.651, 6.5151), (-1.7145, 6.4516), (-1.651, 6.3881))
            Line((-1.651, 6.3881), (-1.651, 6.2357))
            ThreePointArc((-1.651, 6.2357), (-1.7145, 6.1722), (-1.651, 6.1087))
            Line((-1.651, 6.1087), (-1.651, 5.9563))
            ThreePointArc((-1.651, 5.9563), (-1.7145, 5.8928), (-1.651, 5.8293))
        make_face()
        with BuildLine():
            Line((1.651, 6.3881), (1.651, 6.2357))
            ThreePointArc((1.651, 6.2357), (1.7145, 6.1722), (1.651, 6.1087))
            Line((1.651, 6.1087), (1.651, 5.9563))
            ThreePointArc((1.651, 5.9563), (1.7145, 5.8928), (1.651, 5.8293))
            Line((1.651, 5.8293), (1.651, 5.8166))
            Line((1.651, 5.8166), (2.921, 5.8166))
            Line((2.921, 5.8166), (2.921, 6.5786))
            Line((2.921, 6.5786), (1.651, 6.5786))
            Line((1.651, 6.5786), (1.651, 6.5151))
            ThreePointArc((1.651, 6.5151), (1.7145, 6.4516), (1.651, 6.3881))
        make_face()
    extrude(amount=-PPP_25_CUT_DEPTH, mode=Mode.SUBTRACT)


solid = part.part
